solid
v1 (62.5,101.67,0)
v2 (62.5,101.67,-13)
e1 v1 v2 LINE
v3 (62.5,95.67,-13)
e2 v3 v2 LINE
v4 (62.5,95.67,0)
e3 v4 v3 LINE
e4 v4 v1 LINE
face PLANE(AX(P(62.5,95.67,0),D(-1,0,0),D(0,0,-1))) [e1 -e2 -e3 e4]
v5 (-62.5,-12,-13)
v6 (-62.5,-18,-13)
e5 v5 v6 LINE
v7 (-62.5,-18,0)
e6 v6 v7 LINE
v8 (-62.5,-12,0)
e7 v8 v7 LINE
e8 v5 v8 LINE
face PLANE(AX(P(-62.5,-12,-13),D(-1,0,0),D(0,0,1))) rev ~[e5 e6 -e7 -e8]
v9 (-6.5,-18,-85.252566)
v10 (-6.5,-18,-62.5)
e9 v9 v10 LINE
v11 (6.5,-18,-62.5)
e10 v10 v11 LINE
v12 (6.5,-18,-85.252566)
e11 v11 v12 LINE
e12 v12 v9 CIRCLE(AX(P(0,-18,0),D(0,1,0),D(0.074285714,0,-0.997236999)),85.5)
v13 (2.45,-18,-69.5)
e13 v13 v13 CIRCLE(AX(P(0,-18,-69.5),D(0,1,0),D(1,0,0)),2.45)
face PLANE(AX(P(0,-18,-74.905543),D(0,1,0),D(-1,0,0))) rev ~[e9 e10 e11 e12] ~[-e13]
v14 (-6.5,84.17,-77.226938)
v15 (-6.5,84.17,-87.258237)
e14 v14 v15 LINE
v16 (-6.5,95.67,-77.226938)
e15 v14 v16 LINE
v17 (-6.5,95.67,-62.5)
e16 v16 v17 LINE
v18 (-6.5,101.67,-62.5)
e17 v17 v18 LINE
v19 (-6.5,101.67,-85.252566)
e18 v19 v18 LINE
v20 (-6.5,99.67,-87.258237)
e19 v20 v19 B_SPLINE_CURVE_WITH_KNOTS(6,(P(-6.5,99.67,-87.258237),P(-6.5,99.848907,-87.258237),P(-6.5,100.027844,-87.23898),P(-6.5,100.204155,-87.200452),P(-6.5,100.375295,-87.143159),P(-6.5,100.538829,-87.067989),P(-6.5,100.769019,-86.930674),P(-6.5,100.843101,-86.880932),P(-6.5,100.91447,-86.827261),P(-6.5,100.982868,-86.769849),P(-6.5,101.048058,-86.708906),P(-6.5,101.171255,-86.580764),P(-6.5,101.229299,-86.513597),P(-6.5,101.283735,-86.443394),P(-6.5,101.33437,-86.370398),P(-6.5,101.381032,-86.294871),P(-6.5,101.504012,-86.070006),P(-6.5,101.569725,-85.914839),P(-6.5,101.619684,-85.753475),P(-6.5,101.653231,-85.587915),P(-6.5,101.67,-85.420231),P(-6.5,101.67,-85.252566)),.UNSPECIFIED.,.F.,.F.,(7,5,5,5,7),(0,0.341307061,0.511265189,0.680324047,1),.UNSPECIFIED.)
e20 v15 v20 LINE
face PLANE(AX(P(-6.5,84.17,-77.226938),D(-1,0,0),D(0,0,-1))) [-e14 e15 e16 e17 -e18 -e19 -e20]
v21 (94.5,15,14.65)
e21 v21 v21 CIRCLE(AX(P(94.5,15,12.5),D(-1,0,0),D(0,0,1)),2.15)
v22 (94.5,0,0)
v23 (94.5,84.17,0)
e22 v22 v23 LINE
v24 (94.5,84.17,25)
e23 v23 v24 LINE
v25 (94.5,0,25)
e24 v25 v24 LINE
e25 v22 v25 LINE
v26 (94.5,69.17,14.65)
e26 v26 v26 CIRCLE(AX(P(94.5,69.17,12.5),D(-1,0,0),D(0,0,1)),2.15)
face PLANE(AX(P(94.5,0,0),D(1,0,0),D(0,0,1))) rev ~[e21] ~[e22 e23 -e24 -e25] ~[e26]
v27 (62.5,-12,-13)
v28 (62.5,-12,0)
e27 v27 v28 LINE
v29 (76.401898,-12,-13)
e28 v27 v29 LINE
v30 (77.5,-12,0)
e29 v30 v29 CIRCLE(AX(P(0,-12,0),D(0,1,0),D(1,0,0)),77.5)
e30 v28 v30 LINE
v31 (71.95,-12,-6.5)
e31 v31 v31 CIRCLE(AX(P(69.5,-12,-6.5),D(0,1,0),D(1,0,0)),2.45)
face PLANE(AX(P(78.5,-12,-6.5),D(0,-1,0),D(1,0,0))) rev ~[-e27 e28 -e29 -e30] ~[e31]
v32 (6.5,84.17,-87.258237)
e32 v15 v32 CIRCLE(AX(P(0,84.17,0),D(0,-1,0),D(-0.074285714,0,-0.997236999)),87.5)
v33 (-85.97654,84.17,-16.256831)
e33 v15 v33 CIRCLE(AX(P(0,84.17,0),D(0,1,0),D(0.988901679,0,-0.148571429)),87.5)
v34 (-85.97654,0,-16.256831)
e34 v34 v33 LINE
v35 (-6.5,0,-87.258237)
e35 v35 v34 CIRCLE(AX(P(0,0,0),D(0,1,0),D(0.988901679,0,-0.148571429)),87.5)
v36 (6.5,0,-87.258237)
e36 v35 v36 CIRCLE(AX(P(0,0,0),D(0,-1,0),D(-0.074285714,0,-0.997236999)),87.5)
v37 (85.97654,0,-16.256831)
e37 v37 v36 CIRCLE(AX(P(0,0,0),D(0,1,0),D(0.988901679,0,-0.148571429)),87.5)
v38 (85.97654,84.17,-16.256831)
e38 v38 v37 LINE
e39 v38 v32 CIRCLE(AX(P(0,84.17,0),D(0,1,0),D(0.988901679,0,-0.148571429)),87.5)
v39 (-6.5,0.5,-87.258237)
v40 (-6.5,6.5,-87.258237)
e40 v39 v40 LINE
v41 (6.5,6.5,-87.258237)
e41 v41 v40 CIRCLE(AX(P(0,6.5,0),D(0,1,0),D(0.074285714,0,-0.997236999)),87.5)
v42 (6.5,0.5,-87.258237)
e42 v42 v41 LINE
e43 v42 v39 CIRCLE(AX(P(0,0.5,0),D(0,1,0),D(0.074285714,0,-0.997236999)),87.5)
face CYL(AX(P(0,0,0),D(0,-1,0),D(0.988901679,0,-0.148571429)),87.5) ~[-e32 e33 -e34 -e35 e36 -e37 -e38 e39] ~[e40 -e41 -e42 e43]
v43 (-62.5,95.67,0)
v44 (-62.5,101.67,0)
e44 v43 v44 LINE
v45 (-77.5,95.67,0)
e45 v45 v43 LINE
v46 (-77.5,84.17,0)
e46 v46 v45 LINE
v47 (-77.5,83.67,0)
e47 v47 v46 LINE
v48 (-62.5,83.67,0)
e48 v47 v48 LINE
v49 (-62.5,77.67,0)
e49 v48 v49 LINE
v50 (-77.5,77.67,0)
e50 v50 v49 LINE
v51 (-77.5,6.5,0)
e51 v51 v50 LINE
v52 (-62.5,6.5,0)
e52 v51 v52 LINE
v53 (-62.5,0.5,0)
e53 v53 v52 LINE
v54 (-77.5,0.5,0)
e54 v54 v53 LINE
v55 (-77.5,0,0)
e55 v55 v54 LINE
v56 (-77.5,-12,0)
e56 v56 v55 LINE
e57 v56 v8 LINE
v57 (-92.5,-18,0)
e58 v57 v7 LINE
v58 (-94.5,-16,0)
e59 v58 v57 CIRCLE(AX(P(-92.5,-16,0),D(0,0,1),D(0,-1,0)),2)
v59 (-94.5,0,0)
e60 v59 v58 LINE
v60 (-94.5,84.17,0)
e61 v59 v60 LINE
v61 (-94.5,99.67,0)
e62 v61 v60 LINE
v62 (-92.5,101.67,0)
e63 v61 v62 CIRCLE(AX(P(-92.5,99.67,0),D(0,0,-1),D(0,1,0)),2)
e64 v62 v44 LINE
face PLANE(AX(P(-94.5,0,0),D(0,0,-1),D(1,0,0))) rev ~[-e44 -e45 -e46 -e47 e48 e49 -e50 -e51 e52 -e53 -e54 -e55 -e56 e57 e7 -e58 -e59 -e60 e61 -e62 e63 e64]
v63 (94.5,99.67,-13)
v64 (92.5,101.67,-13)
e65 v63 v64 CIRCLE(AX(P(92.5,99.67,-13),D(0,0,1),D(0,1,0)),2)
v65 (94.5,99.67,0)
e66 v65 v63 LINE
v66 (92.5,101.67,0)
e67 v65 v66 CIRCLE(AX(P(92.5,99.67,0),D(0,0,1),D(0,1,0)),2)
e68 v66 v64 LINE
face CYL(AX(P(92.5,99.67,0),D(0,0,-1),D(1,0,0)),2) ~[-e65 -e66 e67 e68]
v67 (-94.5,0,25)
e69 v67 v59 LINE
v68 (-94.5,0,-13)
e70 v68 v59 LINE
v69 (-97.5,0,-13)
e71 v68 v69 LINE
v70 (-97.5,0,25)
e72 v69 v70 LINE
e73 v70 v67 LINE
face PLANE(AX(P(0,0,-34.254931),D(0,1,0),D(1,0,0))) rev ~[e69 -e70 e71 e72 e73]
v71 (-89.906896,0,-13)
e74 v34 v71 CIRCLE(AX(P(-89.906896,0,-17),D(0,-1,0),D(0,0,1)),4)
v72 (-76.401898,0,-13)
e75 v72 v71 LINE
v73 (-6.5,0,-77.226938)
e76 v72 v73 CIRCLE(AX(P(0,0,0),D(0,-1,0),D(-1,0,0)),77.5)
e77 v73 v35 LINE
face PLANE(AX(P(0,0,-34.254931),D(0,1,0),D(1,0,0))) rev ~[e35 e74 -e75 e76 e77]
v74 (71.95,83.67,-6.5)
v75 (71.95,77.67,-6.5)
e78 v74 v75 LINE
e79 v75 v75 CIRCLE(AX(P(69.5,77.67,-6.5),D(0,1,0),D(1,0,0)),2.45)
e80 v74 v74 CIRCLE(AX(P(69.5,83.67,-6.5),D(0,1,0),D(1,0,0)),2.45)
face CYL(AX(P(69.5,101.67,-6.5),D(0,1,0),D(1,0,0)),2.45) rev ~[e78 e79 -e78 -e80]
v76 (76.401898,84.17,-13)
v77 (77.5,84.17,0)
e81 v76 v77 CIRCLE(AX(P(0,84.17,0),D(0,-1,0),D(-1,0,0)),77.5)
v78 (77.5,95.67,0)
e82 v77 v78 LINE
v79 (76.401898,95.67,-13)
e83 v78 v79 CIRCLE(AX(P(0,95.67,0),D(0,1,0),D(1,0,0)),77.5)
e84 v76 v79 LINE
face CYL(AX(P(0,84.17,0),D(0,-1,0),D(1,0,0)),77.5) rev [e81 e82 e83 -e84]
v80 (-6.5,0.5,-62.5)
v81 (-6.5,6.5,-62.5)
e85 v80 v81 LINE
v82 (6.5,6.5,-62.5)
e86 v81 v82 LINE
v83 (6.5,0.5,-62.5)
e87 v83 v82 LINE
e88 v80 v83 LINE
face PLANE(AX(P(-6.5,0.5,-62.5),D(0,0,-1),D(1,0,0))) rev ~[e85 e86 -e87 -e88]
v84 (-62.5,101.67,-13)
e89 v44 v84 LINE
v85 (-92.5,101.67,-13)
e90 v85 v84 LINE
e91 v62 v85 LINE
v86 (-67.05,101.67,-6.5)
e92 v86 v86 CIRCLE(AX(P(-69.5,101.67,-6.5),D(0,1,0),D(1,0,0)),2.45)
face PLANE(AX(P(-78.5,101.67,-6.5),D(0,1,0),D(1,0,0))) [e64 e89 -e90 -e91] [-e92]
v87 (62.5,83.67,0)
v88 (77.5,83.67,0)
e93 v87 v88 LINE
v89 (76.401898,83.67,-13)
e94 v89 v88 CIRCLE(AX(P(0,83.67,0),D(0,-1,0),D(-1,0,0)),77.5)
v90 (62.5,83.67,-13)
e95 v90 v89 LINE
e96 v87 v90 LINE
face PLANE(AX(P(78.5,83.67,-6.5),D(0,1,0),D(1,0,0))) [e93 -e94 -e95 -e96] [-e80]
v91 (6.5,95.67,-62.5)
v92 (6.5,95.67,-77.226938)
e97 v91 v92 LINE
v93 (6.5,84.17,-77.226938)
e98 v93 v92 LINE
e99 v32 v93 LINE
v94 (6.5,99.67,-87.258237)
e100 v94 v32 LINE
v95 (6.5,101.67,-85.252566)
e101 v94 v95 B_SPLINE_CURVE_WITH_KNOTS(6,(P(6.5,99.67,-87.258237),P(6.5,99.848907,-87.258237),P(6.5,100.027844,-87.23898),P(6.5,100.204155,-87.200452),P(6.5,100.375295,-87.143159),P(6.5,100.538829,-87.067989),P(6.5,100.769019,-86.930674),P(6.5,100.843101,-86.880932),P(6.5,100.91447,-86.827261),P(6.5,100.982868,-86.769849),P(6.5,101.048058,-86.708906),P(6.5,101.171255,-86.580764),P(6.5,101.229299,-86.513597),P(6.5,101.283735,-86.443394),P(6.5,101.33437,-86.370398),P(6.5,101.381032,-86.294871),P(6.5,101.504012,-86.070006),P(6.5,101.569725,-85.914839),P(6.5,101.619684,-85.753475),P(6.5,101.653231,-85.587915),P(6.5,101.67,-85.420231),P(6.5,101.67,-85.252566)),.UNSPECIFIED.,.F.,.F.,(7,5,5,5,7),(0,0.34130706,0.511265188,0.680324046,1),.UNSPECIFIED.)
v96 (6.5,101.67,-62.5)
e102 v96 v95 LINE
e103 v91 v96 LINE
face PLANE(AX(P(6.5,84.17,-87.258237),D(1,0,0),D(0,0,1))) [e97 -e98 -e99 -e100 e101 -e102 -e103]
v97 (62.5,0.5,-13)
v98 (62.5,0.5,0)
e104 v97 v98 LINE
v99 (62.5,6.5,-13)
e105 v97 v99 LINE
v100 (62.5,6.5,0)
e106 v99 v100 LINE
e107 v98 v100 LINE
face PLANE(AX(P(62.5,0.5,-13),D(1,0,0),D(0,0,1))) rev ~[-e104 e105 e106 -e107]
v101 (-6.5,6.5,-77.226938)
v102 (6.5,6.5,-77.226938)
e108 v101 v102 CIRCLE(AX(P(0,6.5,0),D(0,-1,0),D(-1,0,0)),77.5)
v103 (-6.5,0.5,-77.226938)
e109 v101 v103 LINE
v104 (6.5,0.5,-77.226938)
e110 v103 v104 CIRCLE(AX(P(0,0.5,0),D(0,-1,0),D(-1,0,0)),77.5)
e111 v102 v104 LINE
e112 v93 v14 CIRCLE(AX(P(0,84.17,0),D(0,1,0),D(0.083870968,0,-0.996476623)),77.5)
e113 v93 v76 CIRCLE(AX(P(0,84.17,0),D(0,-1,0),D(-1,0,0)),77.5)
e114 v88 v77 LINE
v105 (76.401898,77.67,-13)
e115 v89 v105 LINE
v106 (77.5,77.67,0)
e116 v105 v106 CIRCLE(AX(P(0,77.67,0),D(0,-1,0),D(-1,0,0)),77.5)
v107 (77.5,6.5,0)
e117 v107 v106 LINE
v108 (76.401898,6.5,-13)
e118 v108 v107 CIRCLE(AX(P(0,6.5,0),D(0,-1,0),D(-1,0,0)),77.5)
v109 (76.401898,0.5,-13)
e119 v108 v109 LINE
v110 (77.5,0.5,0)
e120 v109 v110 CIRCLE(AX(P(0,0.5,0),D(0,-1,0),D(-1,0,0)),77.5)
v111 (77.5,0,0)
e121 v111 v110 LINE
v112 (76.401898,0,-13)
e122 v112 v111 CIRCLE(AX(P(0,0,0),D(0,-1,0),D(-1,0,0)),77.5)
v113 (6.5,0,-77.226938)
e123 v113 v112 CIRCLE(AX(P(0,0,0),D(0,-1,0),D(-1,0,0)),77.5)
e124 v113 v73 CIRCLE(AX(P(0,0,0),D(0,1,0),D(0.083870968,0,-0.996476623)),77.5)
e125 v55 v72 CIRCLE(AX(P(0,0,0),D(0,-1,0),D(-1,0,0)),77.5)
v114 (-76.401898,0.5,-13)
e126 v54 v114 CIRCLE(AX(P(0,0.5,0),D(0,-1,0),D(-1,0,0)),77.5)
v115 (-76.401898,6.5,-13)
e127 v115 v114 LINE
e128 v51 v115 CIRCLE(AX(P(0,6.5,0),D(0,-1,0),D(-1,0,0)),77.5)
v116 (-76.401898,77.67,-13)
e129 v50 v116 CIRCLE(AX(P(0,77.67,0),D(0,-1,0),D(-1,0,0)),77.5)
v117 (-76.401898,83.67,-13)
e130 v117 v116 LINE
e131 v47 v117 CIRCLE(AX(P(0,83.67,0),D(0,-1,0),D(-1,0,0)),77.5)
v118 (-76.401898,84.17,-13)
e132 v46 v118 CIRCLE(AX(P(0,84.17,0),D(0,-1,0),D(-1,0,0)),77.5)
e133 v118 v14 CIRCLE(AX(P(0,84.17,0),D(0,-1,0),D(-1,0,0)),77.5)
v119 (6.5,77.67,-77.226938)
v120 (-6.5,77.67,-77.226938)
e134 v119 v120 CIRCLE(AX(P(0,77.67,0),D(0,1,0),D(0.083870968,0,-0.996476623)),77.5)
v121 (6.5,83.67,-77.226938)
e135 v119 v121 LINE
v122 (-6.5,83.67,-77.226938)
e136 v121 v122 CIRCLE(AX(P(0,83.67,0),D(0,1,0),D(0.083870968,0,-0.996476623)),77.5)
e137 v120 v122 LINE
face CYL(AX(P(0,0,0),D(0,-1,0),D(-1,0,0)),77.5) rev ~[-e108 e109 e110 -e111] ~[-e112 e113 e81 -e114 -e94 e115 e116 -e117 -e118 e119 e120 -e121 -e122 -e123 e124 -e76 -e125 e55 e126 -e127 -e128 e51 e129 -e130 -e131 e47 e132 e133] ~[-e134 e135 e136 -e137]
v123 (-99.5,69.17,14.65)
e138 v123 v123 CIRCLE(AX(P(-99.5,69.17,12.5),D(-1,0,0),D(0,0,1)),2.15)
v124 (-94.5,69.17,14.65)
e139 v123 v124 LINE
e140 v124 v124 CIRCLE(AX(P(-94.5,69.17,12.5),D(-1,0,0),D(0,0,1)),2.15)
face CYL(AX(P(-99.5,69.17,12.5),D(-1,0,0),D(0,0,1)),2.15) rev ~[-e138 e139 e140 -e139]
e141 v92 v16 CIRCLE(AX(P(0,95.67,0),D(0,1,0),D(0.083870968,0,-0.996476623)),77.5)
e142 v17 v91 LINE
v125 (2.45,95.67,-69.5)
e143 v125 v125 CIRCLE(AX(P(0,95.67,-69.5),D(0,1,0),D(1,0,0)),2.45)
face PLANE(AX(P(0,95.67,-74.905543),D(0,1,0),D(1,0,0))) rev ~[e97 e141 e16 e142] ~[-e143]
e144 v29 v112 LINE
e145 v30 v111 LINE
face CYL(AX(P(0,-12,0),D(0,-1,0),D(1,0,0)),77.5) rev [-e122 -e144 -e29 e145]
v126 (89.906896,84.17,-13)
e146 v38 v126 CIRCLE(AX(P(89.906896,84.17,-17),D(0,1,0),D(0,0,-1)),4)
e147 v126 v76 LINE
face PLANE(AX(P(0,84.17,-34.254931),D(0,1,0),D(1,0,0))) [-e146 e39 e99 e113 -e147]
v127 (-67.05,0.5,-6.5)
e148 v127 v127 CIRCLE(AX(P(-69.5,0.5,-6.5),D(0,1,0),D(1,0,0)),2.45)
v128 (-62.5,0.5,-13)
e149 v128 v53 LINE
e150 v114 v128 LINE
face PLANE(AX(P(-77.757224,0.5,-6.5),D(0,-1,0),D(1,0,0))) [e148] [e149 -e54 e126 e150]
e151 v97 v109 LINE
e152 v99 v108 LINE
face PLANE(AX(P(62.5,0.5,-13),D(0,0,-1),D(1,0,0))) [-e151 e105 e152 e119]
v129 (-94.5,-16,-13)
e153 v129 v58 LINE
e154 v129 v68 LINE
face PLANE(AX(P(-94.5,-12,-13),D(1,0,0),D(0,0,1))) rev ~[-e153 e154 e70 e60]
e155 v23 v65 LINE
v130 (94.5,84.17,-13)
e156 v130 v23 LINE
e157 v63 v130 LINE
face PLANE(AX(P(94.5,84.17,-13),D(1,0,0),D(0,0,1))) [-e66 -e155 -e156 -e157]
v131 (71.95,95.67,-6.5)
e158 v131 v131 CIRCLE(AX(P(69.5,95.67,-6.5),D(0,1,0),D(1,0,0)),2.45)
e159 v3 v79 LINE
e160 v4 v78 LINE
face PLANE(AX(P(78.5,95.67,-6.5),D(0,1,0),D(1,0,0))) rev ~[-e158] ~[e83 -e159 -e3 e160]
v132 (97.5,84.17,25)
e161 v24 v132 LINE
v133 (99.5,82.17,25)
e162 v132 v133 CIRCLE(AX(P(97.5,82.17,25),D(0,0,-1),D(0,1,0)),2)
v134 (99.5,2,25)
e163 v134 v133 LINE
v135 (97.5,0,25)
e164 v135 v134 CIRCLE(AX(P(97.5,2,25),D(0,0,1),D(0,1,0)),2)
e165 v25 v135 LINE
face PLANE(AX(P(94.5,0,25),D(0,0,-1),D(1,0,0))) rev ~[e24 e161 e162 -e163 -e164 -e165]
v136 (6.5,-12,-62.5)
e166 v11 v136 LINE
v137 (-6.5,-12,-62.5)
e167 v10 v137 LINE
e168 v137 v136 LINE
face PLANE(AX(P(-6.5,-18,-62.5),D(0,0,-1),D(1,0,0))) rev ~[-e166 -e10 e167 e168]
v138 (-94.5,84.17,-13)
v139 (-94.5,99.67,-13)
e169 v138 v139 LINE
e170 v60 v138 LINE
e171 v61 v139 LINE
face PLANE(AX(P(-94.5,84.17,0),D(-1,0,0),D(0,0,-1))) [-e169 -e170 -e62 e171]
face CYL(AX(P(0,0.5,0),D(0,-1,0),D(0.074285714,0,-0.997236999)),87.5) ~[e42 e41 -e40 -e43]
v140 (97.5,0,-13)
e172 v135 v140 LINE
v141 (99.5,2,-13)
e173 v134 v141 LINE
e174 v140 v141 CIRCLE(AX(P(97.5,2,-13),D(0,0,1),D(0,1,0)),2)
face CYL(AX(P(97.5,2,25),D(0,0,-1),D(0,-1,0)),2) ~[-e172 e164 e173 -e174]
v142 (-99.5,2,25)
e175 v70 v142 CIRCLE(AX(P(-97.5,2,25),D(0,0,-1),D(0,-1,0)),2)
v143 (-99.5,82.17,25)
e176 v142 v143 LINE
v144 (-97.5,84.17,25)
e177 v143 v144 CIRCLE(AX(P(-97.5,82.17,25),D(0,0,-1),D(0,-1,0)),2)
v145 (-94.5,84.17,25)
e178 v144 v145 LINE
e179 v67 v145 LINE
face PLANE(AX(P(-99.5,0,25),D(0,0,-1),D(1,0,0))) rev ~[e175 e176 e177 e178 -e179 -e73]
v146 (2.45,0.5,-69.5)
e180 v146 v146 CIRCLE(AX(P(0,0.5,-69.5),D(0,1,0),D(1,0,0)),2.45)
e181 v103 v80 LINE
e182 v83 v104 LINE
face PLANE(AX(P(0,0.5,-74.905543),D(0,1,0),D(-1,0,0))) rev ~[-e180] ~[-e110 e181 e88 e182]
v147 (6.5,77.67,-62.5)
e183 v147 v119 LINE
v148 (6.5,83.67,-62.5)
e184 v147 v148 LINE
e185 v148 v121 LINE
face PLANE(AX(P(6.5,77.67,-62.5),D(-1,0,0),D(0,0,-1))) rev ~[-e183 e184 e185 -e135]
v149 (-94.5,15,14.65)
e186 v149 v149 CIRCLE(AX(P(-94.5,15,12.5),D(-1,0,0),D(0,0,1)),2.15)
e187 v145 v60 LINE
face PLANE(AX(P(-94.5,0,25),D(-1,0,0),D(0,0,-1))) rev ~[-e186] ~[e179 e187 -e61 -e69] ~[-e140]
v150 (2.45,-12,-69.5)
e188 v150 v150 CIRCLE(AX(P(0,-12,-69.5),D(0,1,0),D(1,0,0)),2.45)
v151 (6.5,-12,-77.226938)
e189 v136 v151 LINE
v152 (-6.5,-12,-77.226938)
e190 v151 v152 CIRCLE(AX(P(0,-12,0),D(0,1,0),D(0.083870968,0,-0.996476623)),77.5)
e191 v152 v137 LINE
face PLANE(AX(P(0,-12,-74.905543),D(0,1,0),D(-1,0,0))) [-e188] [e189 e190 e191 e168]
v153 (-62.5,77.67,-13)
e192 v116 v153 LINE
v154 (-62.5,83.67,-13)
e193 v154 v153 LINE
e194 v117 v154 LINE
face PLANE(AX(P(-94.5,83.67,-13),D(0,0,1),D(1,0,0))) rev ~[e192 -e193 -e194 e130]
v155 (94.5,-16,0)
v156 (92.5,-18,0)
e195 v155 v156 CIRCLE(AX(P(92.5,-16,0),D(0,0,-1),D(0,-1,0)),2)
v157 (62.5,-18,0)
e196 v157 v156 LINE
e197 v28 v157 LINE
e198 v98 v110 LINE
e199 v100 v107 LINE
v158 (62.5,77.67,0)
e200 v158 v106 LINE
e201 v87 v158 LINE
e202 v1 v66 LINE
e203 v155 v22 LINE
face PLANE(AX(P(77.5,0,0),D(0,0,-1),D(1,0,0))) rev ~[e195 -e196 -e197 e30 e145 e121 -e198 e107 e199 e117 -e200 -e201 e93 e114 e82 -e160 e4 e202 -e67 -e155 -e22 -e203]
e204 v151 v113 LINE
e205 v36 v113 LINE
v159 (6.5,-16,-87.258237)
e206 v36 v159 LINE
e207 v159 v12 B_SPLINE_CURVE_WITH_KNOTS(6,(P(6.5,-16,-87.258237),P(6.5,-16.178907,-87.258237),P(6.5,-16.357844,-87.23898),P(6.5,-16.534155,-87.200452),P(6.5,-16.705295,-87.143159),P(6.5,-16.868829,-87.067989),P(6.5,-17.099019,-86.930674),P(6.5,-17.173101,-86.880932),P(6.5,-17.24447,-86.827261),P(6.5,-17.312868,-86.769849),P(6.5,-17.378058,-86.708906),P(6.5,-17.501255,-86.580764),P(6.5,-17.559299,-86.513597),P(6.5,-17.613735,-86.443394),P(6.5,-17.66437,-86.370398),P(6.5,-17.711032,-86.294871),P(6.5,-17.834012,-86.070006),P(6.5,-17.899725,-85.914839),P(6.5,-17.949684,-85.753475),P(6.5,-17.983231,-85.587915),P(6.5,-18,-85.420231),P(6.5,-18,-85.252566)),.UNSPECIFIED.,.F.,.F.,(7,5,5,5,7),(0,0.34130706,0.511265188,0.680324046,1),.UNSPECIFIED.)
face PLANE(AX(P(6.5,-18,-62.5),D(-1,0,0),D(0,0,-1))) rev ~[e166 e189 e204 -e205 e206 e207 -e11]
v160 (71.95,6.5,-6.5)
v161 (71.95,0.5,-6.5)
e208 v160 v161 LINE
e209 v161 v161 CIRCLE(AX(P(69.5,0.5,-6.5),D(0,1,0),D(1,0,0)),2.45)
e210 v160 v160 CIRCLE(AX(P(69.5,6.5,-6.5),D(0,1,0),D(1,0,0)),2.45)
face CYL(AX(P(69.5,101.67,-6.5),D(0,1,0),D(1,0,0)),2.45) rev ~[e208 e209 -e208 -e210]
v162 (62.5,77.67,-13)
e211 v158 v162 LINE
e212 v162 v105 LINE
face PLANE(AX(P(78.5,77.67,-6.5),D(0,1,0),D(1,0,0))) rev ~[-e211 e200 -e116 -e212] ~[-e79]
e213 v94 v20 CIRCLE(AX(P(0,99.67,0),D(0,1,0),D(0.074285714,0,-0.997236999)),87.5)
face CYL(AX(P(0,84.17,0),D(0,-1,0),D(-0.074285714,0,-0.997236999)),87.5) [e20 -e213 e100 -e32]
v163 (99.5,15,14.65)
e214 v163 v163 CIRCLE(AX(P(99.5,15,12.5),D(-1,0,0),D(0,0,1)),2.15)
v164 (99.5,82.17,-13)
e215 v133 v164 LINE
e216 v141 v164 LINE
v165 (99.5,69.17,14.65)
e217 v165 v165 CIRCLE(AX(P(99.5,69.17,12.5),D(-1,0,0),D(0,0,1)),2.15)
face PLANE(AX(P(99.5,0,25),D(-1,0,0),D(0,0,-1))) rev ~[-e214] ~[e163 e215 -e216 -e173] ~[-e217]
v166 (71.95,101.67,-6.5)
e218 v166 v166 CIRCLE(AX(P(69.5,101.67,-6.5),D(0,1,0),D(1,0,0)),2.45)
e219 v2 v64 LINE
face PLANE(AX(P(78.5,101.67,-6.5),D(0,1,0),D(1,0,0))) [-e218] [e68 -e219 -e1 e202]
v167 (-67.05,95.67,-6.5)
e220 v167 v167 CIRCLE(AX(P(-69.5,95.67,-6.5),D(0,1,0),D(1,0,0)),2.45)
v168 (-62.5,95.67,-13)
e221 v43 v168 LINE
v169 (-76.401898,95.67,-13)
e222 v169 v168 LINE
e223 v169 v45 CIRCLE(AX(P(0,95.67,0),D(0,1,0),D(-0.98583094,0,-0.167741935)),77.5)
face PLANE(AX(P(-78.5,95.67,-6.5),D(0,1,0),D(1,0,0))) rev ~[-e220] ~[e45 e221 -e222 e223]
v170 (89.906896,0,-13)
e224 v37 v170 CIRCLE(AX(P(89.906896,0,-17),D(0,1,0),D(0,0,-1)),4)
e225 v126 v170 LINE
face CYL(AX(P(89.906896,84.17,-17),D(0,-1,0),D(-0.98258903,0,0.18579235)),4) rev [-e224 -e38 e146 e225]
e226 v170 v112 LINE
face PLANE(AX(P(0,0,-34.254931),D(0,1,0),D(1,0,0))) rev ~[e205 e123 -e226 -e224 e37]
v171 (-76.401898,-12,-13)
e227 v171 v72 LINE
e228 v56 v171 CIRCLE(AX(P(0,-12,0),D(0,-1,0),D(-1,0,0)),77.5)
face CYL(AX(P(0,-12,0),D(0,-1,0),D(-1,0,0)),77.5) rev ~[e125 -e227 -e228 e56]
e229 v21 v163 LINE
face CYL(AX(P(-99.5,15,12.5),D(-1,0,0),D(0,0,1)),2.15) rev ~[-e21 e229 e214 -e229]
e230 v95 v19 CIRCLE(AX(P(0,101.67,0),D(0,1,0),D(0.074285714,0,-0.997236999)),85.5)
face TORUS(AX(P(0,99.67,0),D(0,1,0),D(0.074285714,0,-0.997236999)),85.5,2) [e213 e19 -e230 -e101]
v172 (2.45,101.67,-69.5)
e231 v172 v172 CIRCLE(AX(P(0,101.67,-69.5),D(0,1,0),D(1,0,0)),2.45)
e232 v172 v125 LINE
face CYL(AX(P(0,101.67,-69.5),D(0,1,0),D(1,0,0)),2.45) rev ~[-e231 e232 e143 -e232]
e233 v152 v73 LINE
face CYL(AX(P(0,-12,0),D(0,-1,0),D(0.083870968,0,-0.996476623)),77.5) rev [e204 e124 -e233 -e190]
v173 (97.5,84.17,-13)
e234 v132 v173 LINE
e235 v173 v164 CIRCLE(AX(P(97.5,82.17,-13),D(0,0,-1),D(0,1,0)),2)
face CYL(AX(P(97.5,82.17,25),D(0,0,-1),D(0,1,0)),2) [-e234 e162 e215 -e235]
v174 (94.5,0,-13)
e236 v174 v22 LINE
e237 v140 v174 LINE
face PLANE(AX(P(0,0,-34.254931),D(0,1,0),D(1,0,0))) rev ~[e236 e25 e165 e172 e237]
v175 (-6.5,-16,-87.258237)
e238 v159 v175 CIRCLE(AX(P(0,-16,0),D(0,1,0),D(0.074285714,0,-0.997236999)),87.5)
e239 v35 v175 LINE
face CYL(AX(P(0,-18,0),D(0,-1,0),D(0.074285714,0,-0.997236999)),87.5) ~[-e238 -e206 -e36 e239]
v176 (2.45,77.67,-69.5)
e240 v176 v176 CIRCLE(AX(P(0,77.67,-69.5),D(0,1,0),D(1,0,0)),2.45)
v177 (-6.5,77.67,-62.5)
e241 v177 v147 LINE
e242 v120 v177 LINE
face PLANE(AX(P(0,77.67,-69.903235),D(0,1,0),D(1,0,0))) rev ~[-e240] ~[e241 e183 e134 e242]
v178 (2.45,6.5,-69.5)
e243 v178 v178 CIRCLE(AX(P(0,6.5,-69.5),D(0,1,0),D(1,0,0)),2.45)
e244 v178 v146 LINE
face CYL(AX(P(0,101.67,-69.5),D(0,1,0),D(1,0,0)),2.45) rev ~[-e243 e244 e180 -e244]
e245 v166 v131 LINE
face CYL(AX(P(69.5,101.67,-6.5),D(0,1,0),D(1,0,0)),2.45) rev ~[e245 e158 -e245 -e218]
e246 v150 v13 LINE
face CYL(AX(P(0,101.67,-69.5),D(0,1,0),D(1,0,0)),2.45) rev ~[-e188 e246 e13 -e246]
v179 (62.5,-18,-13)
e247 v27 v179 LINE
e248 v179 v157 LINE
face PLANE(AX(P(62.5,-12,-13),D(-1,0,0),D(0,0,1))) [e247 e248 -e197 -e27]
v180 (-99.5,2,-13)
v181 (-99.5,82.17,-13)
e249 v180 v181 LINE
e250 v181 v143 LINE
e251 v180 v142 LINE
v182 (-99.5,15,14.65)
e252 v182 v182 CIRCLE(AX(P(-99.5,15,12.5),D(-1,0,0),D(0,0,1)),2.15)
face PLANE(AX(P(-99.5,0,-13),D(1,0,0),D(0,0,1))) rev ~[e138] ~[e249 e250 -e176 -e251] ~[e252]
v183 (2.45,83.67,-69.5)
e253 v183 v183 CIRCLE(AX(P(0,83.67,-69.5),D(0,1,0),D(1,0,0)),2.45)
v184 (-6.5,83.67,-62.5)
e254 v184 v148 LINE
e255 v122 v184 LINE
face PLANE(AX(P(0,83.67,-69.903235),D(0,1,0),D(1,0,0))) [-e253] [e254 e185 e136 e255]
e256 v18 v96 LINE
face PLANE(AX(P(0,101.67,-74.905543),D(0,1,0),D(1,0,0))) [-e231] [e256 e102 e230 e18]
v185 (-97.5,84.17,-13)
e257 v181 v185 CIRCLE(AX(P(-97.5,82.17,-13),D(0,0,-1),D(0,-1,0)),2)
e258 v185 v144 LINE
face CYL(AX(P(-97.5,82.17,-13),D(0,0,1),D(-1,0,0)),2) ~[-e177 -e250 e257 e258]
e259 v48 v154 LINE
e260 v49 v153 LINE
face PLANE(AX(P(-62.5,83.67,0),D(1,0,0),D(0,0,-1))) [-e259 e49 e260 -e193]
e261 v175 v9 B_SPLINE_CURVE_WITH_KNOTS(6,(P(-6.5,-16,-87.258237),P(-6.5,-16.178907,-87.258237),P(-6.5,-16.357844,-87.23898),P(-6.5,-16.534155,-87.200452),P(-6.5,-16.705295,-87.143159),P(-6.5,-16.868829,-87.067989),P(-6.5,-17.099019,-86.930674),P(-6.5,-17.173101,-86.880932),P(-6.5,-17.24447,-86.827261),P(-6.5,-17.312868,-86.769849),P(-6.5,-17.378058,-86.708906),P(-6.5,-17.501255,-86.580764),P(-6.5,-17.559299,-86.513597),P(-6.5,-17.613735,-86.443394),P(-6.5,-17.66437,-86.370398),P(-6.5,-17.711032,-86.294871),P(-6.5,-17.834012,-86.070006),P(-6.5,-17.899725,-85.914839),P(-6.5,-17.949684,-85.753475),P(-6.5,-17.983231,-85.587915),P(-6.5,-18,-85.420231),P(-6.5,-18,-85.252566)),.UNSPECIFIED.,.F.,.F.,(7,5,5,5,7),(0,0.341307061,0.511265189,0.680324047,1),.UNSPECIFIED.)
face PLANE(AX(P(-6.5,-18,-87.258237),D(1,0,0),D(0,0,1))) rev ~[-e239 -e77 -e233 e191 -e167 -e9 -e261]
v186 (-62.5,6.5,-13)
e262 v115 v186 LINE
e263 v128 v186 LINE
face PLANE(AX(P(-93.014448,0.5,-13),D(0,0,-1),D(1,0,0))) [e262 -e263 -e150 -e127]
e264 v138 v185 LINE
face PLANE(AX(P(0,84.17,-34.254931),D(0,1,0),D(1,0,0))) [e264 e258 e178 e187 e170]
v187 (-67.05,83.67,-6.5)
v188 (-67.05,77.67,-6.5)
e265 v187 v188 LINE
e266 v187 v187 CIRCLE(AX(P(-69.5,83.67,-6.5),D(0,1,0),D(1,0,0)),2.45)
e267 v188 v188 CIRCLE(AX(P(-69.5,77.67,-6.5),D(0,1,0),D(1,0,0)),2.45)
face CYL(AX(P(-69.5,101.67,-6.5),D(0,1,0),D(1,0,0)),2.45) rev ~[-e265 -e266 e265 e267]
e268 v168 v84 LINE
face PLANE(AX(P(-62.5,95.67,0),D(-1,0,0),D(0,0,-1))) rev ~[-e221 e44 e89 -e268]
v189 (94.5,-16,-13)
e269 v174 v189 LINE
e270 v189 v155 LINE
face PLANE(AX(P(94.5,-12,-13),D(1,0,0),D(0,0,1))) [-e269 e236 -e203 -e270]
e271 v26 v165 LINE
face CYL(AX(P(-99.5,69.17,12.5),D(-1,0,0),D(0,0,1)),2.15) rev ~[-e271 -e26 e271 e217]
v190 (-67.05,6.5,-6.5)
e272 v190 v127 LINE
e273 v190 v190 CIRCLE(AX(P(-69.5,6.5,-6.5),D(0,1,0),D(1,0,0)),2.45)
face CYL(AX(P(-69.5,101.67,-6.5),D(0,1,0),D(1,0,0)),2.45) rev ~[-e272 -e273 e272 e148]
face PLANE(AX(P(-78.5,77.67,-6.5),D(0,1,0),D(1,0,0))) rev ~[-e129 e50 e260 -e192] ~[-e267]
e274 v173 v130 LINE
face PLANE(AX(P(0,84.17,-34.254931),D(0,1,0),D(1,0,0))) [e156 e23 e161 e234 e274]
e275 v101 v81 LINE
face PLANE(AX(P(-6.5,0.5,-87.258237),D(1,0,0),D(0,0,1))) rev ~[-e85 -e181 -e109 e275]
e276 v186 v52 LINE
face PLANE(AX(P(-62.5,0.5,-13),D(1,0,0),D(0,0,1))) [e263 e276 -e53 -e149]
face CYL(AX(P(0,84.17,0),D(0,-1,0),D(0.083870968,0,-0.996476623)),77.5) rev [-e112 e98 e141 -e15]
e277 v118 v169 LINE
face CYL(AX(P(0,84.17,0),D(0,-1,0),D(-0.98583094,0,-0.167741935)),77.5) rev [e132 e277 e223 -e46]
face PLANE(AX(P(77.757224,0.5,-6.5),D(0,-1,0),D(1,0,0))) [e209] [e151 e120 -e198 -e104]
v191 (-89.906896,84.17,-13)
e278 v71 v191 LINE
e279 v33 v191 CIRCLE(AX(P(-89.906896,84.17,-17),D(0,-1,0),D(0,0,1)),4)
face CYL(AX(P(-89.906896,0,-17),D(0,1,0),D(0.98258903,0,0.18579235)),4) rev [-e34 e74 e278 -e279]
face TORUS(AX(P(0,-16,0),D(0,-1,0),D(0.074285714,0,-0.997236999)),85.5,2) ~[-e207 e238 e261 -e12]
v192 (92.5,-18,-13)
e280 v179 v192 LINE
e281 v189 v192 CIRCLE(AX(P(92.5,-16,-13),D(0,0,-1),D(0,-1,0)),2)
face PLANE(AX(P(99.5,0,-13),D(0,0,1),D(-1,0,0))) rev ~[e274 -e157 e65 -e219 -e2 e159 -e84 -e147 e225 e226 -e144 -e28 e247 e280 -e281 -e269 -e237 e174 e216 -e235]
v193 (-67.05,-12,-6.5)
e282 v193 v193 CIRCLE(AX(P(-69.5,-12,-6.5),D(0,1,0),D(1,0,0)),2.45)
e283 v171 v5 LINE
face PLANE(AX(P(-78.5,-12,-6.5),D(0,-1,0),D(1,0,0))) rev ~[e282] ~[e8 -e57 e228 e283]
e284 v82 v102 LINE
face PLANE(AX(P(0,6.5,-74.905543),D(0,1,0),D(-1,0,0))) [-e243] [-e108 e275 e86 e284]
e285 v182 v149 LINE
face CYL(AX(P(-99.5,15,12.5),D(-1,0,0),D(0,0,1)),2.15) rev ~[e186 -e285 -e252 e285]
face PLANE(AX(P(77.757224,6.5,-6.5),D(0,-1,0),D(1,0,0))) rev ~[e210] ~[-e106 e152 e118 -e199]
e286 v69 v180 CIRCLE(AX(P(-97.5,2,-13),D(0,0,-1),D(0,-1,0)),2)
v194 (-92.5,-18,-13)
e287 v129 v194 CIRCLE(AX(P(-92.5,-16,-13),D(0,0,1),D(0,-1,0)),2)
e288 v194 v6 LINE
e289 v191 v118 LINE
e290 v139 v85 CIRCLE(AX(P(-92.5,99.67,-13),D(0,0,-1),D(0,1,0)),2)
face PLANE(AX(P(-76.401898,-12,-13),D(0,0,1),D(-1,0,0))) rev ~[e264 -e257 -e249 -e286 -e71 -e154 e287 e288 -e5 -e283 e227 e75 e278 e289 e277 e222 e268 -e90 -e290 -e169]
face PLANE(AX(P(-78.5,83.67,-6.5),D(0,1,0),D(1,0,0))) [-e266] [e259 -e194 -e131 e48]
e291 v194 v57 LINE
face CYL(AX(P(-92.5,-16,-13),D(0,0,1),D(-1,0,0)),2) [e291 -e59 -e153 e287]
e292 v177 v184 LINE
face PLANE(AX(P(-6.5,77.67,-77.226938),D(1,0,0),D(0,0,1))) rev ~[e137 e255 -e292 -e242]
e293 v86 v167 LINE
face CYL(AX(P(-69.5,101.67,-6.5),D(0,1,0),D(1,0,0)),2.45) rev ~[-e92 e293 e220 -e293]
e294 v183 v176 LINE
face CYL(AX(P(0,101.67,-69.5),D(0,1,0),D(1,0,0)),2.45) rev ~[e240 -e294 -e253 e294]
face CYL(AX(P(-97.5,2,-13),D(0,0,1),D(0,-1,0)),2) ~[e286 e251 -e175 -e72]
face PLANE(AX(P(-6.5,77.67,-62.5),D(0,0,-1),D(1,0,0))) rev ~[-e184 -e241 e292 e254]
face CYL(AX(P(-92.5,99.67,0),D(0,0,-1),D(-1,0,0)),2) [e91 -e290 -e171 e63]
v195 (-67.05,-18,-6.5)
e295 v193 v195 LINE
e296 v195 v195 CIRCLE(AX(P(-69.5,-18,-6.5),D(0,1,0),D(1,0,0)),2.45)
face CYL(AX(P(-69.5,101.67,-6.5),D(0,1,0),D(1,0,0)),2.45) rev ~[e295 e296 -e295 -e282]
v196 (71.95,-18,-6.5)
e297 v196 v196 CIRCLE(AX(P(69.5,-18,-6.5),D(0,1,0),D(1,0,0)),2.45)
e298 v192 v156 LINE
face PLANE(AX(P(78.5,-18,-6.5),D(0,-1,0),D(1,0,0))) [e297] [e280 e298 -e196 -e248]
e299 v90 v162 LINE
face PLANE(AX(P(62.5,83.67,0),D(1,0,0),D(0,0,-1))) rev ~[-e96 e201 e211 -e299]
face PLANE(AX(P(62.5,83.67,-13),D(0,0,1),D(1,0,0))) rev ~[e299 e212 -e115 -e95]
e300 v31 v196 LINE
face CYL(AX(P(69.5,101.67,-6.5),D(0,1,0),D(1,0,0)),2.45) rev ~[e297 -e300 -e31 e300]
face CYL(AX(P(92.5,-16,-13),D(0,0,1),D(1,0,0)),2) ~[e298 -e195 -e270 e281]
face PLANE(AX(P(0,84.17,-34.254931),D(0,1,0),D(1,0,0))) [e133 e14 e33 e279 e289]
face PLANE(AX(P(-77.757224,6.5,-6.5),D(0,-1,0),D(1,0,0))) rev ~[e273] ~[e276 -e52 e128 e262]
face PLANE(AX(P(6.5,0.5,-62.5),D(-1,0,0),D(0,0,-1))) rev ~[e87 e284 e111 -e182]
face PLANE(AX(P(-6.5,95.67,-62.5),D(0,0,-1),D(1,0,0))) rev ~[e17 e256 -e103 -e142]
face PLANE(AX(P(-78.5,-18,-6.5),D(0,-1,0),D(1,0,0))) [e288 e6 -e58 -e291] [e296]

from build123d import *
from build123d.topology import SkipClean

# Parameters (mm, degrees)
BOSS_EXTRUDE1_DEPTH  = 84.17
BOSS_EXTRUDE2_START  = -0.5
SKETCH3_W            = 32
SKETCH3_H            = 13
BOSS_EXTRUDE2_DEPTH  = 6
BOSS_EXTRUDE3_DEPTH  = 11.5
SKETCH5_W            = 32
SKETCH5_H            = 13
BOSS_EXTRUDE4_DEPTH  = 6
SKETCH7_R            = 2.15
CUT_EXTRUDE1_DEPTH   = 240.98758072
BOSS_EXTRUDE5_START  = -0.5
SKETCH9_W            = 30.514448454
SKETCH9_H            = 13
BOSS_EXTRUDE5_DEPTH  = 6
BOSS_EXTRUDE6_START  = 12
BOSS_EXTRUDE6_DEPTH  = 12
SKETCH12_W           = 32
SKETCH12_H           = 13
BOSS_EXTRUDE7_DEPTH  = 6
SKETCH14_R           = 2.45
CUT_EXTRUDE2_DEPTH   = 179.542456856
BOSS_EXTRUDE8_START  = -6.5
BOSS_EXTRUDE8_DEPTH  = 6
BOSS_EXTRUDE9_DEPTH  = 11.5
BOSS_EXTRUDE10_DEPTH = 6
BOSS_EXTRUDE11_START = -0.5
BOSS_EXTRUDE11_DEPTH = 6
BOSS_EXTRUDE12_START = 12
BOSS_EXTRUDE12_DEPTH = 12
BOSS_EXTRUDE13_START = 6
BOSS_EXTRUDE13_DEPTH = 6
SKETCH19_R           = 2.45
CUT_EXTRUDE3_DEPTH   = 179.542456856
FILLET4_R            = 2
FILLET5_R            = 4


with BuildPart() as part:
    # Sketch1 → Boss-Extrude1 (new body)
    with BuildSketch(Plane(origin=(0, 0, 0), x_dir=(1, 0, 0), z_dir=(0, 1, 0))):
        with BuildLine():
            Line((-86.528896907, 13), (-99.5, 13))
            Line((-99.5, 13), (-99.5, -25))
            Line((-99.5, -25), (-94.5, -25))
            Line((-94.5, -25), (-94.5, 0))
            Line((-94.5, 0), (-77.5, 0))
            ThreePointArc((-77.5, 0), (0, 77.5), (77.5, 0))
            Line((77.5, 0), (94.5, 0))
            Line((94.5, 0), (94.5, -25))
            Line((94.5, -25), (99.5, -25))
            Line((99.5, -25), (99.5, 13))
            Line((99.5, 13), (86.528896907, 13))
            ThreePointArc((86.528896907, 13), (0, 87.5), (-86.528896907, 13))
        make_face()
    extrude(amount=BOSS_EXTRUDE1_DEPTH)

    # Sketch3 → Boss-Extrude2 (add)
    with BuildSketch(Plane(origin=(0, 84.17, 0), x_dir=(1, 0, 0), z_dir=(0, 1, 0)).offset(BOSS_EXTRUDE2_START)):
        with Locations((-78.5, 6.5)):
            Rectangle(SKETCH3_W, SKETCH3_H)
        with Locations((78.5, 6.5)):
            Rectangle(SKETCH3_W, SKETCH3_H)
    extrude(amount=-BOSS_EXTRUDE2_DEPTH)

    # Sketch4 → Boss-Extrude3 (add)
    with SkipClean():  # the faces are left unmerged after this step: merging them gives an invalid solid
        with BuildSketch(Plane(origin=(0, 84.17, 0), x_dir=(1, 0, 0), z_dir=(0, 1, 0))):
            with BuildLine():
                Line((-94.5, 13), (-76.401897882, 13))
                ThreePointArc((-76.401897882, 13), (-77.224986519, 6.523147788), (-77.5, 0))
                Line((-77.5, 0), (-94.5, 0))
                Line((-94.5, 0), (-94.5, 13))
            make_face()
            with BuildLine():
                Line((76.401897882, 13), (94.5, 13))
                Line((94.5, 13), (94.5, 0))
                Line((94.5, 0), (77.5, 0))
                ThreePointArc((77.5, 0), (77.224986519, 6.523147788), (76.401897882, 13))
            make_face()
        extrude(amount=BOSS_EXTRUDE3_DEPTH)

    # Sketch5 → Boss-Extrude4 (add)
    with SkipClean():  # the faces are left unmerged after this step: merging them gives an invalid solid
        with BuildSketch(Plane(origin=(0, 95.67, 0), x_dir=(1, 0, 0), z_dir=(0, 1, 0))):
            with Locations((-78.5, 6.5)):
                Rectangle(SKETCH5_W, SKETCH5_H)
            with Locations((78.5, 6.5)):
                Rectangle(SKETCH5_W, SKETCH5_H)
        extrude(amount=BOSS_EXTRUDE4_DEPTH)

    # Sketch7 → Cut-Extrude1 (cut, through all)
    with SkipClean():  # the faces are left unmerged after this step: merging them gives an invalid solid
        with BuildSketch(Plane.ZY.offset(99.5)):
            with Locations((12.5, 69.17)):
                Circle(SKETCH7_R)
            with Locations((12.5, 15)):
                Circle(SKETCH7_R)
        extrude(amount=-CUT_EXTRUDE1_DEPTH, mode=Mode.SUBTRACT)

    # Sketch9 → Boss-Extrude5 (add)
    with SkipClean():  # the faces are left unmerged after this step: merging them gives an invalid solid
        with BuildSketch(Plane.XZ.offset(BOSS_EXTRUDE5_START)):
            with Locations((-77.757224227, -6.5)):
                Rectangle(SKETCH9_W, SKETCH9_H)
            with Locations((77.757224227, -6.5)):
                Rectangle(SKETCH9_W, SKETCH9_H)
        extrude(amount=-BOSS_EXTRUDE5_DEPTH)

    # Sketch11 → Boss-Extrude6 (add)
    with SkipClean():  # the faces are left unmerged after this step: merging them gives an invalid solid
        with BuildSketch(Plane.XZ.offset(BOSS_EXTRUDE6_START)):
            with BuildLine():
                Line((-94.5, 0), (-77.5, 0))
                ThreePointArc((-77.5, 0), (-77.224986519, -6.523147788), (-76.401897882, -13))
                Line((-76.401897882, -13), (-94.5, -13))
                Line((-94.5, -13), (-94.5, 0))
            make_face()
            with BuildLine():
                Line((94.5, 0), (77.5, 0))
                ThreePointArc((77.5, 0), (77.224986519, -6.523147788), (76.401897882, -13))
                Line((76.401897882, -13), (94.5, -13))
                Line((94.5, -13), (94.5, 0))
            make_face()
        extrude(amount=-BOSS_EXTRUDE6_DEPTH)

    # Sketch12 → Boss-Extrude7 (add)
    with SkipClean():  # the faces are left unmerged after this step: merging them gives an invalid solid
        with BuildSketch(Plane.XZ.offset(12)):
            with Locations((-78.5, -6.5)):
                Rectangle(SKETCH12_W, SKETCH12_H)
            with Locations((78.5, -6.5)):
                Rectangle(SKETCH12_W, SKETCH12_H)
        extrude(amount=BOSS_EXTRUDE7_DEPTH)

    # Sketch14 → Cut-Extrude2 (cut, through all)
    with SkipClean():  # the faces are left unmerged after this step: merging them gives an invalid solid
        with BuildSketch(Plane(origin=(0, 101.67, 0), x_dir=(1, 0, 0), z_dir=(0, 1, 0))):
            with Locations((-69.5, 6.5)):
                Circle(SKETCH14_R)
            with Locations((69.5, 6.5)):
                Circle(SKETCH14_R)
        extrude(amount=-CUT_EXTRUDE2_DEPTH, mode=Mode.SUBTRACT)

    # Sketch15 → Boss-Extrude8 (add)
    with SkipClean():  # the faces are left unmerged after this step: merging them gives an invalid solid
        with BuildSketch(Plane(origin=(0, 84.17, 0), x_dir=(1, 0, 0), z_dir=(0, 1, 0)).offset(BOSS_EXTRUDE8_START)):
            with BuildLine():
                Line((-6.5, 77.226938305), (-6.5, 62.5))
                Line((-6.5, 62.5), (6.5, 62.5))
                Line((6.5, 62.5), (6.5, 77.226938305))
                ThreePointArc((6.5, 77.226938305), (0, 77.5), (-6.5, 77.226938305))
            make_face()
        extrude(amount=BOSS_EXTRUDE8_DEPTH)

    # Sketch17 → Boss-Extrude9 (add)
    with SkipClean():  # the faces are left unmerged after this step: merging them gives an invalid solid
        with BuildSketch(Plane(origin=(0, 84.17, 0), x_dir=(1, 0, 0), z_dir=(0, 1, 0))):
            with BuildLine():
                Line((-6.5, 77.226938305), (-6.5, 87.258237433))
                ThreePointArc((-6.5, 87.258237433), (0, 87.5), (6.5, 87.258237433))
                Line((6.5, 87.258237433), (6.5, 77.226938305))
                ThreePointArc((6.5, 77.226938305), (0, 77.5), (-6.5, 77.226938305))
            make_face()
        extrude(amount=BOSS_EXTRUDE9_DEPTH)

    # Sketch18 → Boss-Extrude10 (add)
    with SkipClean():  # the faces are left unmerged after this step: merging them gives an invalid solid
        with BuildSketch(Plane(origin=(0, 95.67, 0), x_dir=(1, 0, 0), z_dir=(0, 1, 0))):
            with BuildLine():
                Line((-6.5, 87.258237433), (-6.5, 62.5))
                Line((-6.5, 62.5), (6.5, 62.5))
                Line((6.5, 62.5), (6.5, 87.258237433))
                ThreePointArc((6.5, 87.258237433), (0, 87.5), (-6.5, 87.258237433))
            make_face()
        extrude(amount=BOSS_EXTRUDE10_DEPTH)

    # Sketch20 → Boss-Extrude11 (add)
    with SkipClean():  # the faces are left unmerged after this step: merging them gives an invalid solid
        with BuildSketch(Plane.XZ.offset(BOSS_EXTRUDE11_START)):
            with BuildLine():
                Line((-6.5, -62.5), (6.5, -62.5))
                Line((6.5, -62.5), (6.5, -87.258237433))
                ThreePointArc((6.5, -87.258237433), (0, -87.5), (-6.5, -87.258237433))
                Line((-6.5, -87.258237433), (-6.5, -62.5))
            make_face()
        extrude(amount=-BOSS_EXTRUDE11_DEPTH)

    # Sketch21 → Boss-Extrude12 (add)
    with SkipClean():  # the faces are left unmerged after this step: merging them gives an invalid solid
        with BuildSketch(Plane.XZ.offset(BOSS_EXTRUDE12_START)):
            with BuildLine():
                Line((-6.5, -77.226938305), (-6.5, -87.258237433))
                ThreePointArc((-6.5, -87.258237433), (0, -87.5), (6.5, -87.258237433))
                Line((6.5, -87.258237433), (6.5, -77.226938305))
                ThreePointArc((6.5, -77.226938305), (0, -77.5), (-6.5, -77.226938305))
            make_face()
        extrude(amount=-BOSS_EXTRUDE12_DEPTH)

    # Sketch22 → Boss-Extrude13 (add)
    with SkipClean():  # the faces are left unmerged after this step: merging them gives an invalid solid
        with BuildSketch(Plane.XZ.offset(12).offset(BOSS_EXTRUDE13_START)):
            with BuildLine():
                Line((-6.5, -87.258237433), (-6.5, -62.5))
                Line((-6.5, -62.5), (6.5, -62.5))
                Line((6.5, -62.5), (6.5, -87.258237433))
                ThreePointArc((6.5, -87.258237433), (0, -87.5), (-6.5, -87.258237433))
            make_face()
        extrude(amount=-BOSS_EXTRUDE13_DEPTH)

    # Sketch19 → Cut-Extrude3 (cut, through all)
    with SkipClean():  # the faces are left unmerged after this step: merging them gives an invalid solid
        with BuildSketch(Plane(origin=(0, 101.67, 0), x_dir=(1, 0, 0), z_dir=(0, 1, 0))):
            with Locations((0, 69.5)):
                Circle(SKETCH19_R)
        extrude(amount=-CUT_EXTRUDE3_DEPTH, mode=Mode.SUBTRACT)

    # Fillet4
    fillet4_edges = [part.edges().sort_by_distance(p)[0] for p in [
        (99.5, 0, 6),
        (94.5, -18, -6.5),
        (0, -18, -87.5),
        (-99.5, 0, 6),
        (-94.5, -18, -6.5),
        (-99.5, 84.17, 6),
        (99.5, 84.17, 6),
        (94.5, 101.67, -6.5),
        (0, 101.67, -87.5),
        (-94.5, 101.67, -6.5),
    ]]
    fillet(fillet4_edges, radius=FILLET4_R)

    # Fillet5
    fillet5_edges = [part.edges().sort_by_distance(p)[0] for p in [
        (-86.528896907, 42.085, -13),
        (86.528896907, 42.085, -13),
    ]]
    fillet(fillet5_edges, radius=FILLET5_R)


solid = part.part
